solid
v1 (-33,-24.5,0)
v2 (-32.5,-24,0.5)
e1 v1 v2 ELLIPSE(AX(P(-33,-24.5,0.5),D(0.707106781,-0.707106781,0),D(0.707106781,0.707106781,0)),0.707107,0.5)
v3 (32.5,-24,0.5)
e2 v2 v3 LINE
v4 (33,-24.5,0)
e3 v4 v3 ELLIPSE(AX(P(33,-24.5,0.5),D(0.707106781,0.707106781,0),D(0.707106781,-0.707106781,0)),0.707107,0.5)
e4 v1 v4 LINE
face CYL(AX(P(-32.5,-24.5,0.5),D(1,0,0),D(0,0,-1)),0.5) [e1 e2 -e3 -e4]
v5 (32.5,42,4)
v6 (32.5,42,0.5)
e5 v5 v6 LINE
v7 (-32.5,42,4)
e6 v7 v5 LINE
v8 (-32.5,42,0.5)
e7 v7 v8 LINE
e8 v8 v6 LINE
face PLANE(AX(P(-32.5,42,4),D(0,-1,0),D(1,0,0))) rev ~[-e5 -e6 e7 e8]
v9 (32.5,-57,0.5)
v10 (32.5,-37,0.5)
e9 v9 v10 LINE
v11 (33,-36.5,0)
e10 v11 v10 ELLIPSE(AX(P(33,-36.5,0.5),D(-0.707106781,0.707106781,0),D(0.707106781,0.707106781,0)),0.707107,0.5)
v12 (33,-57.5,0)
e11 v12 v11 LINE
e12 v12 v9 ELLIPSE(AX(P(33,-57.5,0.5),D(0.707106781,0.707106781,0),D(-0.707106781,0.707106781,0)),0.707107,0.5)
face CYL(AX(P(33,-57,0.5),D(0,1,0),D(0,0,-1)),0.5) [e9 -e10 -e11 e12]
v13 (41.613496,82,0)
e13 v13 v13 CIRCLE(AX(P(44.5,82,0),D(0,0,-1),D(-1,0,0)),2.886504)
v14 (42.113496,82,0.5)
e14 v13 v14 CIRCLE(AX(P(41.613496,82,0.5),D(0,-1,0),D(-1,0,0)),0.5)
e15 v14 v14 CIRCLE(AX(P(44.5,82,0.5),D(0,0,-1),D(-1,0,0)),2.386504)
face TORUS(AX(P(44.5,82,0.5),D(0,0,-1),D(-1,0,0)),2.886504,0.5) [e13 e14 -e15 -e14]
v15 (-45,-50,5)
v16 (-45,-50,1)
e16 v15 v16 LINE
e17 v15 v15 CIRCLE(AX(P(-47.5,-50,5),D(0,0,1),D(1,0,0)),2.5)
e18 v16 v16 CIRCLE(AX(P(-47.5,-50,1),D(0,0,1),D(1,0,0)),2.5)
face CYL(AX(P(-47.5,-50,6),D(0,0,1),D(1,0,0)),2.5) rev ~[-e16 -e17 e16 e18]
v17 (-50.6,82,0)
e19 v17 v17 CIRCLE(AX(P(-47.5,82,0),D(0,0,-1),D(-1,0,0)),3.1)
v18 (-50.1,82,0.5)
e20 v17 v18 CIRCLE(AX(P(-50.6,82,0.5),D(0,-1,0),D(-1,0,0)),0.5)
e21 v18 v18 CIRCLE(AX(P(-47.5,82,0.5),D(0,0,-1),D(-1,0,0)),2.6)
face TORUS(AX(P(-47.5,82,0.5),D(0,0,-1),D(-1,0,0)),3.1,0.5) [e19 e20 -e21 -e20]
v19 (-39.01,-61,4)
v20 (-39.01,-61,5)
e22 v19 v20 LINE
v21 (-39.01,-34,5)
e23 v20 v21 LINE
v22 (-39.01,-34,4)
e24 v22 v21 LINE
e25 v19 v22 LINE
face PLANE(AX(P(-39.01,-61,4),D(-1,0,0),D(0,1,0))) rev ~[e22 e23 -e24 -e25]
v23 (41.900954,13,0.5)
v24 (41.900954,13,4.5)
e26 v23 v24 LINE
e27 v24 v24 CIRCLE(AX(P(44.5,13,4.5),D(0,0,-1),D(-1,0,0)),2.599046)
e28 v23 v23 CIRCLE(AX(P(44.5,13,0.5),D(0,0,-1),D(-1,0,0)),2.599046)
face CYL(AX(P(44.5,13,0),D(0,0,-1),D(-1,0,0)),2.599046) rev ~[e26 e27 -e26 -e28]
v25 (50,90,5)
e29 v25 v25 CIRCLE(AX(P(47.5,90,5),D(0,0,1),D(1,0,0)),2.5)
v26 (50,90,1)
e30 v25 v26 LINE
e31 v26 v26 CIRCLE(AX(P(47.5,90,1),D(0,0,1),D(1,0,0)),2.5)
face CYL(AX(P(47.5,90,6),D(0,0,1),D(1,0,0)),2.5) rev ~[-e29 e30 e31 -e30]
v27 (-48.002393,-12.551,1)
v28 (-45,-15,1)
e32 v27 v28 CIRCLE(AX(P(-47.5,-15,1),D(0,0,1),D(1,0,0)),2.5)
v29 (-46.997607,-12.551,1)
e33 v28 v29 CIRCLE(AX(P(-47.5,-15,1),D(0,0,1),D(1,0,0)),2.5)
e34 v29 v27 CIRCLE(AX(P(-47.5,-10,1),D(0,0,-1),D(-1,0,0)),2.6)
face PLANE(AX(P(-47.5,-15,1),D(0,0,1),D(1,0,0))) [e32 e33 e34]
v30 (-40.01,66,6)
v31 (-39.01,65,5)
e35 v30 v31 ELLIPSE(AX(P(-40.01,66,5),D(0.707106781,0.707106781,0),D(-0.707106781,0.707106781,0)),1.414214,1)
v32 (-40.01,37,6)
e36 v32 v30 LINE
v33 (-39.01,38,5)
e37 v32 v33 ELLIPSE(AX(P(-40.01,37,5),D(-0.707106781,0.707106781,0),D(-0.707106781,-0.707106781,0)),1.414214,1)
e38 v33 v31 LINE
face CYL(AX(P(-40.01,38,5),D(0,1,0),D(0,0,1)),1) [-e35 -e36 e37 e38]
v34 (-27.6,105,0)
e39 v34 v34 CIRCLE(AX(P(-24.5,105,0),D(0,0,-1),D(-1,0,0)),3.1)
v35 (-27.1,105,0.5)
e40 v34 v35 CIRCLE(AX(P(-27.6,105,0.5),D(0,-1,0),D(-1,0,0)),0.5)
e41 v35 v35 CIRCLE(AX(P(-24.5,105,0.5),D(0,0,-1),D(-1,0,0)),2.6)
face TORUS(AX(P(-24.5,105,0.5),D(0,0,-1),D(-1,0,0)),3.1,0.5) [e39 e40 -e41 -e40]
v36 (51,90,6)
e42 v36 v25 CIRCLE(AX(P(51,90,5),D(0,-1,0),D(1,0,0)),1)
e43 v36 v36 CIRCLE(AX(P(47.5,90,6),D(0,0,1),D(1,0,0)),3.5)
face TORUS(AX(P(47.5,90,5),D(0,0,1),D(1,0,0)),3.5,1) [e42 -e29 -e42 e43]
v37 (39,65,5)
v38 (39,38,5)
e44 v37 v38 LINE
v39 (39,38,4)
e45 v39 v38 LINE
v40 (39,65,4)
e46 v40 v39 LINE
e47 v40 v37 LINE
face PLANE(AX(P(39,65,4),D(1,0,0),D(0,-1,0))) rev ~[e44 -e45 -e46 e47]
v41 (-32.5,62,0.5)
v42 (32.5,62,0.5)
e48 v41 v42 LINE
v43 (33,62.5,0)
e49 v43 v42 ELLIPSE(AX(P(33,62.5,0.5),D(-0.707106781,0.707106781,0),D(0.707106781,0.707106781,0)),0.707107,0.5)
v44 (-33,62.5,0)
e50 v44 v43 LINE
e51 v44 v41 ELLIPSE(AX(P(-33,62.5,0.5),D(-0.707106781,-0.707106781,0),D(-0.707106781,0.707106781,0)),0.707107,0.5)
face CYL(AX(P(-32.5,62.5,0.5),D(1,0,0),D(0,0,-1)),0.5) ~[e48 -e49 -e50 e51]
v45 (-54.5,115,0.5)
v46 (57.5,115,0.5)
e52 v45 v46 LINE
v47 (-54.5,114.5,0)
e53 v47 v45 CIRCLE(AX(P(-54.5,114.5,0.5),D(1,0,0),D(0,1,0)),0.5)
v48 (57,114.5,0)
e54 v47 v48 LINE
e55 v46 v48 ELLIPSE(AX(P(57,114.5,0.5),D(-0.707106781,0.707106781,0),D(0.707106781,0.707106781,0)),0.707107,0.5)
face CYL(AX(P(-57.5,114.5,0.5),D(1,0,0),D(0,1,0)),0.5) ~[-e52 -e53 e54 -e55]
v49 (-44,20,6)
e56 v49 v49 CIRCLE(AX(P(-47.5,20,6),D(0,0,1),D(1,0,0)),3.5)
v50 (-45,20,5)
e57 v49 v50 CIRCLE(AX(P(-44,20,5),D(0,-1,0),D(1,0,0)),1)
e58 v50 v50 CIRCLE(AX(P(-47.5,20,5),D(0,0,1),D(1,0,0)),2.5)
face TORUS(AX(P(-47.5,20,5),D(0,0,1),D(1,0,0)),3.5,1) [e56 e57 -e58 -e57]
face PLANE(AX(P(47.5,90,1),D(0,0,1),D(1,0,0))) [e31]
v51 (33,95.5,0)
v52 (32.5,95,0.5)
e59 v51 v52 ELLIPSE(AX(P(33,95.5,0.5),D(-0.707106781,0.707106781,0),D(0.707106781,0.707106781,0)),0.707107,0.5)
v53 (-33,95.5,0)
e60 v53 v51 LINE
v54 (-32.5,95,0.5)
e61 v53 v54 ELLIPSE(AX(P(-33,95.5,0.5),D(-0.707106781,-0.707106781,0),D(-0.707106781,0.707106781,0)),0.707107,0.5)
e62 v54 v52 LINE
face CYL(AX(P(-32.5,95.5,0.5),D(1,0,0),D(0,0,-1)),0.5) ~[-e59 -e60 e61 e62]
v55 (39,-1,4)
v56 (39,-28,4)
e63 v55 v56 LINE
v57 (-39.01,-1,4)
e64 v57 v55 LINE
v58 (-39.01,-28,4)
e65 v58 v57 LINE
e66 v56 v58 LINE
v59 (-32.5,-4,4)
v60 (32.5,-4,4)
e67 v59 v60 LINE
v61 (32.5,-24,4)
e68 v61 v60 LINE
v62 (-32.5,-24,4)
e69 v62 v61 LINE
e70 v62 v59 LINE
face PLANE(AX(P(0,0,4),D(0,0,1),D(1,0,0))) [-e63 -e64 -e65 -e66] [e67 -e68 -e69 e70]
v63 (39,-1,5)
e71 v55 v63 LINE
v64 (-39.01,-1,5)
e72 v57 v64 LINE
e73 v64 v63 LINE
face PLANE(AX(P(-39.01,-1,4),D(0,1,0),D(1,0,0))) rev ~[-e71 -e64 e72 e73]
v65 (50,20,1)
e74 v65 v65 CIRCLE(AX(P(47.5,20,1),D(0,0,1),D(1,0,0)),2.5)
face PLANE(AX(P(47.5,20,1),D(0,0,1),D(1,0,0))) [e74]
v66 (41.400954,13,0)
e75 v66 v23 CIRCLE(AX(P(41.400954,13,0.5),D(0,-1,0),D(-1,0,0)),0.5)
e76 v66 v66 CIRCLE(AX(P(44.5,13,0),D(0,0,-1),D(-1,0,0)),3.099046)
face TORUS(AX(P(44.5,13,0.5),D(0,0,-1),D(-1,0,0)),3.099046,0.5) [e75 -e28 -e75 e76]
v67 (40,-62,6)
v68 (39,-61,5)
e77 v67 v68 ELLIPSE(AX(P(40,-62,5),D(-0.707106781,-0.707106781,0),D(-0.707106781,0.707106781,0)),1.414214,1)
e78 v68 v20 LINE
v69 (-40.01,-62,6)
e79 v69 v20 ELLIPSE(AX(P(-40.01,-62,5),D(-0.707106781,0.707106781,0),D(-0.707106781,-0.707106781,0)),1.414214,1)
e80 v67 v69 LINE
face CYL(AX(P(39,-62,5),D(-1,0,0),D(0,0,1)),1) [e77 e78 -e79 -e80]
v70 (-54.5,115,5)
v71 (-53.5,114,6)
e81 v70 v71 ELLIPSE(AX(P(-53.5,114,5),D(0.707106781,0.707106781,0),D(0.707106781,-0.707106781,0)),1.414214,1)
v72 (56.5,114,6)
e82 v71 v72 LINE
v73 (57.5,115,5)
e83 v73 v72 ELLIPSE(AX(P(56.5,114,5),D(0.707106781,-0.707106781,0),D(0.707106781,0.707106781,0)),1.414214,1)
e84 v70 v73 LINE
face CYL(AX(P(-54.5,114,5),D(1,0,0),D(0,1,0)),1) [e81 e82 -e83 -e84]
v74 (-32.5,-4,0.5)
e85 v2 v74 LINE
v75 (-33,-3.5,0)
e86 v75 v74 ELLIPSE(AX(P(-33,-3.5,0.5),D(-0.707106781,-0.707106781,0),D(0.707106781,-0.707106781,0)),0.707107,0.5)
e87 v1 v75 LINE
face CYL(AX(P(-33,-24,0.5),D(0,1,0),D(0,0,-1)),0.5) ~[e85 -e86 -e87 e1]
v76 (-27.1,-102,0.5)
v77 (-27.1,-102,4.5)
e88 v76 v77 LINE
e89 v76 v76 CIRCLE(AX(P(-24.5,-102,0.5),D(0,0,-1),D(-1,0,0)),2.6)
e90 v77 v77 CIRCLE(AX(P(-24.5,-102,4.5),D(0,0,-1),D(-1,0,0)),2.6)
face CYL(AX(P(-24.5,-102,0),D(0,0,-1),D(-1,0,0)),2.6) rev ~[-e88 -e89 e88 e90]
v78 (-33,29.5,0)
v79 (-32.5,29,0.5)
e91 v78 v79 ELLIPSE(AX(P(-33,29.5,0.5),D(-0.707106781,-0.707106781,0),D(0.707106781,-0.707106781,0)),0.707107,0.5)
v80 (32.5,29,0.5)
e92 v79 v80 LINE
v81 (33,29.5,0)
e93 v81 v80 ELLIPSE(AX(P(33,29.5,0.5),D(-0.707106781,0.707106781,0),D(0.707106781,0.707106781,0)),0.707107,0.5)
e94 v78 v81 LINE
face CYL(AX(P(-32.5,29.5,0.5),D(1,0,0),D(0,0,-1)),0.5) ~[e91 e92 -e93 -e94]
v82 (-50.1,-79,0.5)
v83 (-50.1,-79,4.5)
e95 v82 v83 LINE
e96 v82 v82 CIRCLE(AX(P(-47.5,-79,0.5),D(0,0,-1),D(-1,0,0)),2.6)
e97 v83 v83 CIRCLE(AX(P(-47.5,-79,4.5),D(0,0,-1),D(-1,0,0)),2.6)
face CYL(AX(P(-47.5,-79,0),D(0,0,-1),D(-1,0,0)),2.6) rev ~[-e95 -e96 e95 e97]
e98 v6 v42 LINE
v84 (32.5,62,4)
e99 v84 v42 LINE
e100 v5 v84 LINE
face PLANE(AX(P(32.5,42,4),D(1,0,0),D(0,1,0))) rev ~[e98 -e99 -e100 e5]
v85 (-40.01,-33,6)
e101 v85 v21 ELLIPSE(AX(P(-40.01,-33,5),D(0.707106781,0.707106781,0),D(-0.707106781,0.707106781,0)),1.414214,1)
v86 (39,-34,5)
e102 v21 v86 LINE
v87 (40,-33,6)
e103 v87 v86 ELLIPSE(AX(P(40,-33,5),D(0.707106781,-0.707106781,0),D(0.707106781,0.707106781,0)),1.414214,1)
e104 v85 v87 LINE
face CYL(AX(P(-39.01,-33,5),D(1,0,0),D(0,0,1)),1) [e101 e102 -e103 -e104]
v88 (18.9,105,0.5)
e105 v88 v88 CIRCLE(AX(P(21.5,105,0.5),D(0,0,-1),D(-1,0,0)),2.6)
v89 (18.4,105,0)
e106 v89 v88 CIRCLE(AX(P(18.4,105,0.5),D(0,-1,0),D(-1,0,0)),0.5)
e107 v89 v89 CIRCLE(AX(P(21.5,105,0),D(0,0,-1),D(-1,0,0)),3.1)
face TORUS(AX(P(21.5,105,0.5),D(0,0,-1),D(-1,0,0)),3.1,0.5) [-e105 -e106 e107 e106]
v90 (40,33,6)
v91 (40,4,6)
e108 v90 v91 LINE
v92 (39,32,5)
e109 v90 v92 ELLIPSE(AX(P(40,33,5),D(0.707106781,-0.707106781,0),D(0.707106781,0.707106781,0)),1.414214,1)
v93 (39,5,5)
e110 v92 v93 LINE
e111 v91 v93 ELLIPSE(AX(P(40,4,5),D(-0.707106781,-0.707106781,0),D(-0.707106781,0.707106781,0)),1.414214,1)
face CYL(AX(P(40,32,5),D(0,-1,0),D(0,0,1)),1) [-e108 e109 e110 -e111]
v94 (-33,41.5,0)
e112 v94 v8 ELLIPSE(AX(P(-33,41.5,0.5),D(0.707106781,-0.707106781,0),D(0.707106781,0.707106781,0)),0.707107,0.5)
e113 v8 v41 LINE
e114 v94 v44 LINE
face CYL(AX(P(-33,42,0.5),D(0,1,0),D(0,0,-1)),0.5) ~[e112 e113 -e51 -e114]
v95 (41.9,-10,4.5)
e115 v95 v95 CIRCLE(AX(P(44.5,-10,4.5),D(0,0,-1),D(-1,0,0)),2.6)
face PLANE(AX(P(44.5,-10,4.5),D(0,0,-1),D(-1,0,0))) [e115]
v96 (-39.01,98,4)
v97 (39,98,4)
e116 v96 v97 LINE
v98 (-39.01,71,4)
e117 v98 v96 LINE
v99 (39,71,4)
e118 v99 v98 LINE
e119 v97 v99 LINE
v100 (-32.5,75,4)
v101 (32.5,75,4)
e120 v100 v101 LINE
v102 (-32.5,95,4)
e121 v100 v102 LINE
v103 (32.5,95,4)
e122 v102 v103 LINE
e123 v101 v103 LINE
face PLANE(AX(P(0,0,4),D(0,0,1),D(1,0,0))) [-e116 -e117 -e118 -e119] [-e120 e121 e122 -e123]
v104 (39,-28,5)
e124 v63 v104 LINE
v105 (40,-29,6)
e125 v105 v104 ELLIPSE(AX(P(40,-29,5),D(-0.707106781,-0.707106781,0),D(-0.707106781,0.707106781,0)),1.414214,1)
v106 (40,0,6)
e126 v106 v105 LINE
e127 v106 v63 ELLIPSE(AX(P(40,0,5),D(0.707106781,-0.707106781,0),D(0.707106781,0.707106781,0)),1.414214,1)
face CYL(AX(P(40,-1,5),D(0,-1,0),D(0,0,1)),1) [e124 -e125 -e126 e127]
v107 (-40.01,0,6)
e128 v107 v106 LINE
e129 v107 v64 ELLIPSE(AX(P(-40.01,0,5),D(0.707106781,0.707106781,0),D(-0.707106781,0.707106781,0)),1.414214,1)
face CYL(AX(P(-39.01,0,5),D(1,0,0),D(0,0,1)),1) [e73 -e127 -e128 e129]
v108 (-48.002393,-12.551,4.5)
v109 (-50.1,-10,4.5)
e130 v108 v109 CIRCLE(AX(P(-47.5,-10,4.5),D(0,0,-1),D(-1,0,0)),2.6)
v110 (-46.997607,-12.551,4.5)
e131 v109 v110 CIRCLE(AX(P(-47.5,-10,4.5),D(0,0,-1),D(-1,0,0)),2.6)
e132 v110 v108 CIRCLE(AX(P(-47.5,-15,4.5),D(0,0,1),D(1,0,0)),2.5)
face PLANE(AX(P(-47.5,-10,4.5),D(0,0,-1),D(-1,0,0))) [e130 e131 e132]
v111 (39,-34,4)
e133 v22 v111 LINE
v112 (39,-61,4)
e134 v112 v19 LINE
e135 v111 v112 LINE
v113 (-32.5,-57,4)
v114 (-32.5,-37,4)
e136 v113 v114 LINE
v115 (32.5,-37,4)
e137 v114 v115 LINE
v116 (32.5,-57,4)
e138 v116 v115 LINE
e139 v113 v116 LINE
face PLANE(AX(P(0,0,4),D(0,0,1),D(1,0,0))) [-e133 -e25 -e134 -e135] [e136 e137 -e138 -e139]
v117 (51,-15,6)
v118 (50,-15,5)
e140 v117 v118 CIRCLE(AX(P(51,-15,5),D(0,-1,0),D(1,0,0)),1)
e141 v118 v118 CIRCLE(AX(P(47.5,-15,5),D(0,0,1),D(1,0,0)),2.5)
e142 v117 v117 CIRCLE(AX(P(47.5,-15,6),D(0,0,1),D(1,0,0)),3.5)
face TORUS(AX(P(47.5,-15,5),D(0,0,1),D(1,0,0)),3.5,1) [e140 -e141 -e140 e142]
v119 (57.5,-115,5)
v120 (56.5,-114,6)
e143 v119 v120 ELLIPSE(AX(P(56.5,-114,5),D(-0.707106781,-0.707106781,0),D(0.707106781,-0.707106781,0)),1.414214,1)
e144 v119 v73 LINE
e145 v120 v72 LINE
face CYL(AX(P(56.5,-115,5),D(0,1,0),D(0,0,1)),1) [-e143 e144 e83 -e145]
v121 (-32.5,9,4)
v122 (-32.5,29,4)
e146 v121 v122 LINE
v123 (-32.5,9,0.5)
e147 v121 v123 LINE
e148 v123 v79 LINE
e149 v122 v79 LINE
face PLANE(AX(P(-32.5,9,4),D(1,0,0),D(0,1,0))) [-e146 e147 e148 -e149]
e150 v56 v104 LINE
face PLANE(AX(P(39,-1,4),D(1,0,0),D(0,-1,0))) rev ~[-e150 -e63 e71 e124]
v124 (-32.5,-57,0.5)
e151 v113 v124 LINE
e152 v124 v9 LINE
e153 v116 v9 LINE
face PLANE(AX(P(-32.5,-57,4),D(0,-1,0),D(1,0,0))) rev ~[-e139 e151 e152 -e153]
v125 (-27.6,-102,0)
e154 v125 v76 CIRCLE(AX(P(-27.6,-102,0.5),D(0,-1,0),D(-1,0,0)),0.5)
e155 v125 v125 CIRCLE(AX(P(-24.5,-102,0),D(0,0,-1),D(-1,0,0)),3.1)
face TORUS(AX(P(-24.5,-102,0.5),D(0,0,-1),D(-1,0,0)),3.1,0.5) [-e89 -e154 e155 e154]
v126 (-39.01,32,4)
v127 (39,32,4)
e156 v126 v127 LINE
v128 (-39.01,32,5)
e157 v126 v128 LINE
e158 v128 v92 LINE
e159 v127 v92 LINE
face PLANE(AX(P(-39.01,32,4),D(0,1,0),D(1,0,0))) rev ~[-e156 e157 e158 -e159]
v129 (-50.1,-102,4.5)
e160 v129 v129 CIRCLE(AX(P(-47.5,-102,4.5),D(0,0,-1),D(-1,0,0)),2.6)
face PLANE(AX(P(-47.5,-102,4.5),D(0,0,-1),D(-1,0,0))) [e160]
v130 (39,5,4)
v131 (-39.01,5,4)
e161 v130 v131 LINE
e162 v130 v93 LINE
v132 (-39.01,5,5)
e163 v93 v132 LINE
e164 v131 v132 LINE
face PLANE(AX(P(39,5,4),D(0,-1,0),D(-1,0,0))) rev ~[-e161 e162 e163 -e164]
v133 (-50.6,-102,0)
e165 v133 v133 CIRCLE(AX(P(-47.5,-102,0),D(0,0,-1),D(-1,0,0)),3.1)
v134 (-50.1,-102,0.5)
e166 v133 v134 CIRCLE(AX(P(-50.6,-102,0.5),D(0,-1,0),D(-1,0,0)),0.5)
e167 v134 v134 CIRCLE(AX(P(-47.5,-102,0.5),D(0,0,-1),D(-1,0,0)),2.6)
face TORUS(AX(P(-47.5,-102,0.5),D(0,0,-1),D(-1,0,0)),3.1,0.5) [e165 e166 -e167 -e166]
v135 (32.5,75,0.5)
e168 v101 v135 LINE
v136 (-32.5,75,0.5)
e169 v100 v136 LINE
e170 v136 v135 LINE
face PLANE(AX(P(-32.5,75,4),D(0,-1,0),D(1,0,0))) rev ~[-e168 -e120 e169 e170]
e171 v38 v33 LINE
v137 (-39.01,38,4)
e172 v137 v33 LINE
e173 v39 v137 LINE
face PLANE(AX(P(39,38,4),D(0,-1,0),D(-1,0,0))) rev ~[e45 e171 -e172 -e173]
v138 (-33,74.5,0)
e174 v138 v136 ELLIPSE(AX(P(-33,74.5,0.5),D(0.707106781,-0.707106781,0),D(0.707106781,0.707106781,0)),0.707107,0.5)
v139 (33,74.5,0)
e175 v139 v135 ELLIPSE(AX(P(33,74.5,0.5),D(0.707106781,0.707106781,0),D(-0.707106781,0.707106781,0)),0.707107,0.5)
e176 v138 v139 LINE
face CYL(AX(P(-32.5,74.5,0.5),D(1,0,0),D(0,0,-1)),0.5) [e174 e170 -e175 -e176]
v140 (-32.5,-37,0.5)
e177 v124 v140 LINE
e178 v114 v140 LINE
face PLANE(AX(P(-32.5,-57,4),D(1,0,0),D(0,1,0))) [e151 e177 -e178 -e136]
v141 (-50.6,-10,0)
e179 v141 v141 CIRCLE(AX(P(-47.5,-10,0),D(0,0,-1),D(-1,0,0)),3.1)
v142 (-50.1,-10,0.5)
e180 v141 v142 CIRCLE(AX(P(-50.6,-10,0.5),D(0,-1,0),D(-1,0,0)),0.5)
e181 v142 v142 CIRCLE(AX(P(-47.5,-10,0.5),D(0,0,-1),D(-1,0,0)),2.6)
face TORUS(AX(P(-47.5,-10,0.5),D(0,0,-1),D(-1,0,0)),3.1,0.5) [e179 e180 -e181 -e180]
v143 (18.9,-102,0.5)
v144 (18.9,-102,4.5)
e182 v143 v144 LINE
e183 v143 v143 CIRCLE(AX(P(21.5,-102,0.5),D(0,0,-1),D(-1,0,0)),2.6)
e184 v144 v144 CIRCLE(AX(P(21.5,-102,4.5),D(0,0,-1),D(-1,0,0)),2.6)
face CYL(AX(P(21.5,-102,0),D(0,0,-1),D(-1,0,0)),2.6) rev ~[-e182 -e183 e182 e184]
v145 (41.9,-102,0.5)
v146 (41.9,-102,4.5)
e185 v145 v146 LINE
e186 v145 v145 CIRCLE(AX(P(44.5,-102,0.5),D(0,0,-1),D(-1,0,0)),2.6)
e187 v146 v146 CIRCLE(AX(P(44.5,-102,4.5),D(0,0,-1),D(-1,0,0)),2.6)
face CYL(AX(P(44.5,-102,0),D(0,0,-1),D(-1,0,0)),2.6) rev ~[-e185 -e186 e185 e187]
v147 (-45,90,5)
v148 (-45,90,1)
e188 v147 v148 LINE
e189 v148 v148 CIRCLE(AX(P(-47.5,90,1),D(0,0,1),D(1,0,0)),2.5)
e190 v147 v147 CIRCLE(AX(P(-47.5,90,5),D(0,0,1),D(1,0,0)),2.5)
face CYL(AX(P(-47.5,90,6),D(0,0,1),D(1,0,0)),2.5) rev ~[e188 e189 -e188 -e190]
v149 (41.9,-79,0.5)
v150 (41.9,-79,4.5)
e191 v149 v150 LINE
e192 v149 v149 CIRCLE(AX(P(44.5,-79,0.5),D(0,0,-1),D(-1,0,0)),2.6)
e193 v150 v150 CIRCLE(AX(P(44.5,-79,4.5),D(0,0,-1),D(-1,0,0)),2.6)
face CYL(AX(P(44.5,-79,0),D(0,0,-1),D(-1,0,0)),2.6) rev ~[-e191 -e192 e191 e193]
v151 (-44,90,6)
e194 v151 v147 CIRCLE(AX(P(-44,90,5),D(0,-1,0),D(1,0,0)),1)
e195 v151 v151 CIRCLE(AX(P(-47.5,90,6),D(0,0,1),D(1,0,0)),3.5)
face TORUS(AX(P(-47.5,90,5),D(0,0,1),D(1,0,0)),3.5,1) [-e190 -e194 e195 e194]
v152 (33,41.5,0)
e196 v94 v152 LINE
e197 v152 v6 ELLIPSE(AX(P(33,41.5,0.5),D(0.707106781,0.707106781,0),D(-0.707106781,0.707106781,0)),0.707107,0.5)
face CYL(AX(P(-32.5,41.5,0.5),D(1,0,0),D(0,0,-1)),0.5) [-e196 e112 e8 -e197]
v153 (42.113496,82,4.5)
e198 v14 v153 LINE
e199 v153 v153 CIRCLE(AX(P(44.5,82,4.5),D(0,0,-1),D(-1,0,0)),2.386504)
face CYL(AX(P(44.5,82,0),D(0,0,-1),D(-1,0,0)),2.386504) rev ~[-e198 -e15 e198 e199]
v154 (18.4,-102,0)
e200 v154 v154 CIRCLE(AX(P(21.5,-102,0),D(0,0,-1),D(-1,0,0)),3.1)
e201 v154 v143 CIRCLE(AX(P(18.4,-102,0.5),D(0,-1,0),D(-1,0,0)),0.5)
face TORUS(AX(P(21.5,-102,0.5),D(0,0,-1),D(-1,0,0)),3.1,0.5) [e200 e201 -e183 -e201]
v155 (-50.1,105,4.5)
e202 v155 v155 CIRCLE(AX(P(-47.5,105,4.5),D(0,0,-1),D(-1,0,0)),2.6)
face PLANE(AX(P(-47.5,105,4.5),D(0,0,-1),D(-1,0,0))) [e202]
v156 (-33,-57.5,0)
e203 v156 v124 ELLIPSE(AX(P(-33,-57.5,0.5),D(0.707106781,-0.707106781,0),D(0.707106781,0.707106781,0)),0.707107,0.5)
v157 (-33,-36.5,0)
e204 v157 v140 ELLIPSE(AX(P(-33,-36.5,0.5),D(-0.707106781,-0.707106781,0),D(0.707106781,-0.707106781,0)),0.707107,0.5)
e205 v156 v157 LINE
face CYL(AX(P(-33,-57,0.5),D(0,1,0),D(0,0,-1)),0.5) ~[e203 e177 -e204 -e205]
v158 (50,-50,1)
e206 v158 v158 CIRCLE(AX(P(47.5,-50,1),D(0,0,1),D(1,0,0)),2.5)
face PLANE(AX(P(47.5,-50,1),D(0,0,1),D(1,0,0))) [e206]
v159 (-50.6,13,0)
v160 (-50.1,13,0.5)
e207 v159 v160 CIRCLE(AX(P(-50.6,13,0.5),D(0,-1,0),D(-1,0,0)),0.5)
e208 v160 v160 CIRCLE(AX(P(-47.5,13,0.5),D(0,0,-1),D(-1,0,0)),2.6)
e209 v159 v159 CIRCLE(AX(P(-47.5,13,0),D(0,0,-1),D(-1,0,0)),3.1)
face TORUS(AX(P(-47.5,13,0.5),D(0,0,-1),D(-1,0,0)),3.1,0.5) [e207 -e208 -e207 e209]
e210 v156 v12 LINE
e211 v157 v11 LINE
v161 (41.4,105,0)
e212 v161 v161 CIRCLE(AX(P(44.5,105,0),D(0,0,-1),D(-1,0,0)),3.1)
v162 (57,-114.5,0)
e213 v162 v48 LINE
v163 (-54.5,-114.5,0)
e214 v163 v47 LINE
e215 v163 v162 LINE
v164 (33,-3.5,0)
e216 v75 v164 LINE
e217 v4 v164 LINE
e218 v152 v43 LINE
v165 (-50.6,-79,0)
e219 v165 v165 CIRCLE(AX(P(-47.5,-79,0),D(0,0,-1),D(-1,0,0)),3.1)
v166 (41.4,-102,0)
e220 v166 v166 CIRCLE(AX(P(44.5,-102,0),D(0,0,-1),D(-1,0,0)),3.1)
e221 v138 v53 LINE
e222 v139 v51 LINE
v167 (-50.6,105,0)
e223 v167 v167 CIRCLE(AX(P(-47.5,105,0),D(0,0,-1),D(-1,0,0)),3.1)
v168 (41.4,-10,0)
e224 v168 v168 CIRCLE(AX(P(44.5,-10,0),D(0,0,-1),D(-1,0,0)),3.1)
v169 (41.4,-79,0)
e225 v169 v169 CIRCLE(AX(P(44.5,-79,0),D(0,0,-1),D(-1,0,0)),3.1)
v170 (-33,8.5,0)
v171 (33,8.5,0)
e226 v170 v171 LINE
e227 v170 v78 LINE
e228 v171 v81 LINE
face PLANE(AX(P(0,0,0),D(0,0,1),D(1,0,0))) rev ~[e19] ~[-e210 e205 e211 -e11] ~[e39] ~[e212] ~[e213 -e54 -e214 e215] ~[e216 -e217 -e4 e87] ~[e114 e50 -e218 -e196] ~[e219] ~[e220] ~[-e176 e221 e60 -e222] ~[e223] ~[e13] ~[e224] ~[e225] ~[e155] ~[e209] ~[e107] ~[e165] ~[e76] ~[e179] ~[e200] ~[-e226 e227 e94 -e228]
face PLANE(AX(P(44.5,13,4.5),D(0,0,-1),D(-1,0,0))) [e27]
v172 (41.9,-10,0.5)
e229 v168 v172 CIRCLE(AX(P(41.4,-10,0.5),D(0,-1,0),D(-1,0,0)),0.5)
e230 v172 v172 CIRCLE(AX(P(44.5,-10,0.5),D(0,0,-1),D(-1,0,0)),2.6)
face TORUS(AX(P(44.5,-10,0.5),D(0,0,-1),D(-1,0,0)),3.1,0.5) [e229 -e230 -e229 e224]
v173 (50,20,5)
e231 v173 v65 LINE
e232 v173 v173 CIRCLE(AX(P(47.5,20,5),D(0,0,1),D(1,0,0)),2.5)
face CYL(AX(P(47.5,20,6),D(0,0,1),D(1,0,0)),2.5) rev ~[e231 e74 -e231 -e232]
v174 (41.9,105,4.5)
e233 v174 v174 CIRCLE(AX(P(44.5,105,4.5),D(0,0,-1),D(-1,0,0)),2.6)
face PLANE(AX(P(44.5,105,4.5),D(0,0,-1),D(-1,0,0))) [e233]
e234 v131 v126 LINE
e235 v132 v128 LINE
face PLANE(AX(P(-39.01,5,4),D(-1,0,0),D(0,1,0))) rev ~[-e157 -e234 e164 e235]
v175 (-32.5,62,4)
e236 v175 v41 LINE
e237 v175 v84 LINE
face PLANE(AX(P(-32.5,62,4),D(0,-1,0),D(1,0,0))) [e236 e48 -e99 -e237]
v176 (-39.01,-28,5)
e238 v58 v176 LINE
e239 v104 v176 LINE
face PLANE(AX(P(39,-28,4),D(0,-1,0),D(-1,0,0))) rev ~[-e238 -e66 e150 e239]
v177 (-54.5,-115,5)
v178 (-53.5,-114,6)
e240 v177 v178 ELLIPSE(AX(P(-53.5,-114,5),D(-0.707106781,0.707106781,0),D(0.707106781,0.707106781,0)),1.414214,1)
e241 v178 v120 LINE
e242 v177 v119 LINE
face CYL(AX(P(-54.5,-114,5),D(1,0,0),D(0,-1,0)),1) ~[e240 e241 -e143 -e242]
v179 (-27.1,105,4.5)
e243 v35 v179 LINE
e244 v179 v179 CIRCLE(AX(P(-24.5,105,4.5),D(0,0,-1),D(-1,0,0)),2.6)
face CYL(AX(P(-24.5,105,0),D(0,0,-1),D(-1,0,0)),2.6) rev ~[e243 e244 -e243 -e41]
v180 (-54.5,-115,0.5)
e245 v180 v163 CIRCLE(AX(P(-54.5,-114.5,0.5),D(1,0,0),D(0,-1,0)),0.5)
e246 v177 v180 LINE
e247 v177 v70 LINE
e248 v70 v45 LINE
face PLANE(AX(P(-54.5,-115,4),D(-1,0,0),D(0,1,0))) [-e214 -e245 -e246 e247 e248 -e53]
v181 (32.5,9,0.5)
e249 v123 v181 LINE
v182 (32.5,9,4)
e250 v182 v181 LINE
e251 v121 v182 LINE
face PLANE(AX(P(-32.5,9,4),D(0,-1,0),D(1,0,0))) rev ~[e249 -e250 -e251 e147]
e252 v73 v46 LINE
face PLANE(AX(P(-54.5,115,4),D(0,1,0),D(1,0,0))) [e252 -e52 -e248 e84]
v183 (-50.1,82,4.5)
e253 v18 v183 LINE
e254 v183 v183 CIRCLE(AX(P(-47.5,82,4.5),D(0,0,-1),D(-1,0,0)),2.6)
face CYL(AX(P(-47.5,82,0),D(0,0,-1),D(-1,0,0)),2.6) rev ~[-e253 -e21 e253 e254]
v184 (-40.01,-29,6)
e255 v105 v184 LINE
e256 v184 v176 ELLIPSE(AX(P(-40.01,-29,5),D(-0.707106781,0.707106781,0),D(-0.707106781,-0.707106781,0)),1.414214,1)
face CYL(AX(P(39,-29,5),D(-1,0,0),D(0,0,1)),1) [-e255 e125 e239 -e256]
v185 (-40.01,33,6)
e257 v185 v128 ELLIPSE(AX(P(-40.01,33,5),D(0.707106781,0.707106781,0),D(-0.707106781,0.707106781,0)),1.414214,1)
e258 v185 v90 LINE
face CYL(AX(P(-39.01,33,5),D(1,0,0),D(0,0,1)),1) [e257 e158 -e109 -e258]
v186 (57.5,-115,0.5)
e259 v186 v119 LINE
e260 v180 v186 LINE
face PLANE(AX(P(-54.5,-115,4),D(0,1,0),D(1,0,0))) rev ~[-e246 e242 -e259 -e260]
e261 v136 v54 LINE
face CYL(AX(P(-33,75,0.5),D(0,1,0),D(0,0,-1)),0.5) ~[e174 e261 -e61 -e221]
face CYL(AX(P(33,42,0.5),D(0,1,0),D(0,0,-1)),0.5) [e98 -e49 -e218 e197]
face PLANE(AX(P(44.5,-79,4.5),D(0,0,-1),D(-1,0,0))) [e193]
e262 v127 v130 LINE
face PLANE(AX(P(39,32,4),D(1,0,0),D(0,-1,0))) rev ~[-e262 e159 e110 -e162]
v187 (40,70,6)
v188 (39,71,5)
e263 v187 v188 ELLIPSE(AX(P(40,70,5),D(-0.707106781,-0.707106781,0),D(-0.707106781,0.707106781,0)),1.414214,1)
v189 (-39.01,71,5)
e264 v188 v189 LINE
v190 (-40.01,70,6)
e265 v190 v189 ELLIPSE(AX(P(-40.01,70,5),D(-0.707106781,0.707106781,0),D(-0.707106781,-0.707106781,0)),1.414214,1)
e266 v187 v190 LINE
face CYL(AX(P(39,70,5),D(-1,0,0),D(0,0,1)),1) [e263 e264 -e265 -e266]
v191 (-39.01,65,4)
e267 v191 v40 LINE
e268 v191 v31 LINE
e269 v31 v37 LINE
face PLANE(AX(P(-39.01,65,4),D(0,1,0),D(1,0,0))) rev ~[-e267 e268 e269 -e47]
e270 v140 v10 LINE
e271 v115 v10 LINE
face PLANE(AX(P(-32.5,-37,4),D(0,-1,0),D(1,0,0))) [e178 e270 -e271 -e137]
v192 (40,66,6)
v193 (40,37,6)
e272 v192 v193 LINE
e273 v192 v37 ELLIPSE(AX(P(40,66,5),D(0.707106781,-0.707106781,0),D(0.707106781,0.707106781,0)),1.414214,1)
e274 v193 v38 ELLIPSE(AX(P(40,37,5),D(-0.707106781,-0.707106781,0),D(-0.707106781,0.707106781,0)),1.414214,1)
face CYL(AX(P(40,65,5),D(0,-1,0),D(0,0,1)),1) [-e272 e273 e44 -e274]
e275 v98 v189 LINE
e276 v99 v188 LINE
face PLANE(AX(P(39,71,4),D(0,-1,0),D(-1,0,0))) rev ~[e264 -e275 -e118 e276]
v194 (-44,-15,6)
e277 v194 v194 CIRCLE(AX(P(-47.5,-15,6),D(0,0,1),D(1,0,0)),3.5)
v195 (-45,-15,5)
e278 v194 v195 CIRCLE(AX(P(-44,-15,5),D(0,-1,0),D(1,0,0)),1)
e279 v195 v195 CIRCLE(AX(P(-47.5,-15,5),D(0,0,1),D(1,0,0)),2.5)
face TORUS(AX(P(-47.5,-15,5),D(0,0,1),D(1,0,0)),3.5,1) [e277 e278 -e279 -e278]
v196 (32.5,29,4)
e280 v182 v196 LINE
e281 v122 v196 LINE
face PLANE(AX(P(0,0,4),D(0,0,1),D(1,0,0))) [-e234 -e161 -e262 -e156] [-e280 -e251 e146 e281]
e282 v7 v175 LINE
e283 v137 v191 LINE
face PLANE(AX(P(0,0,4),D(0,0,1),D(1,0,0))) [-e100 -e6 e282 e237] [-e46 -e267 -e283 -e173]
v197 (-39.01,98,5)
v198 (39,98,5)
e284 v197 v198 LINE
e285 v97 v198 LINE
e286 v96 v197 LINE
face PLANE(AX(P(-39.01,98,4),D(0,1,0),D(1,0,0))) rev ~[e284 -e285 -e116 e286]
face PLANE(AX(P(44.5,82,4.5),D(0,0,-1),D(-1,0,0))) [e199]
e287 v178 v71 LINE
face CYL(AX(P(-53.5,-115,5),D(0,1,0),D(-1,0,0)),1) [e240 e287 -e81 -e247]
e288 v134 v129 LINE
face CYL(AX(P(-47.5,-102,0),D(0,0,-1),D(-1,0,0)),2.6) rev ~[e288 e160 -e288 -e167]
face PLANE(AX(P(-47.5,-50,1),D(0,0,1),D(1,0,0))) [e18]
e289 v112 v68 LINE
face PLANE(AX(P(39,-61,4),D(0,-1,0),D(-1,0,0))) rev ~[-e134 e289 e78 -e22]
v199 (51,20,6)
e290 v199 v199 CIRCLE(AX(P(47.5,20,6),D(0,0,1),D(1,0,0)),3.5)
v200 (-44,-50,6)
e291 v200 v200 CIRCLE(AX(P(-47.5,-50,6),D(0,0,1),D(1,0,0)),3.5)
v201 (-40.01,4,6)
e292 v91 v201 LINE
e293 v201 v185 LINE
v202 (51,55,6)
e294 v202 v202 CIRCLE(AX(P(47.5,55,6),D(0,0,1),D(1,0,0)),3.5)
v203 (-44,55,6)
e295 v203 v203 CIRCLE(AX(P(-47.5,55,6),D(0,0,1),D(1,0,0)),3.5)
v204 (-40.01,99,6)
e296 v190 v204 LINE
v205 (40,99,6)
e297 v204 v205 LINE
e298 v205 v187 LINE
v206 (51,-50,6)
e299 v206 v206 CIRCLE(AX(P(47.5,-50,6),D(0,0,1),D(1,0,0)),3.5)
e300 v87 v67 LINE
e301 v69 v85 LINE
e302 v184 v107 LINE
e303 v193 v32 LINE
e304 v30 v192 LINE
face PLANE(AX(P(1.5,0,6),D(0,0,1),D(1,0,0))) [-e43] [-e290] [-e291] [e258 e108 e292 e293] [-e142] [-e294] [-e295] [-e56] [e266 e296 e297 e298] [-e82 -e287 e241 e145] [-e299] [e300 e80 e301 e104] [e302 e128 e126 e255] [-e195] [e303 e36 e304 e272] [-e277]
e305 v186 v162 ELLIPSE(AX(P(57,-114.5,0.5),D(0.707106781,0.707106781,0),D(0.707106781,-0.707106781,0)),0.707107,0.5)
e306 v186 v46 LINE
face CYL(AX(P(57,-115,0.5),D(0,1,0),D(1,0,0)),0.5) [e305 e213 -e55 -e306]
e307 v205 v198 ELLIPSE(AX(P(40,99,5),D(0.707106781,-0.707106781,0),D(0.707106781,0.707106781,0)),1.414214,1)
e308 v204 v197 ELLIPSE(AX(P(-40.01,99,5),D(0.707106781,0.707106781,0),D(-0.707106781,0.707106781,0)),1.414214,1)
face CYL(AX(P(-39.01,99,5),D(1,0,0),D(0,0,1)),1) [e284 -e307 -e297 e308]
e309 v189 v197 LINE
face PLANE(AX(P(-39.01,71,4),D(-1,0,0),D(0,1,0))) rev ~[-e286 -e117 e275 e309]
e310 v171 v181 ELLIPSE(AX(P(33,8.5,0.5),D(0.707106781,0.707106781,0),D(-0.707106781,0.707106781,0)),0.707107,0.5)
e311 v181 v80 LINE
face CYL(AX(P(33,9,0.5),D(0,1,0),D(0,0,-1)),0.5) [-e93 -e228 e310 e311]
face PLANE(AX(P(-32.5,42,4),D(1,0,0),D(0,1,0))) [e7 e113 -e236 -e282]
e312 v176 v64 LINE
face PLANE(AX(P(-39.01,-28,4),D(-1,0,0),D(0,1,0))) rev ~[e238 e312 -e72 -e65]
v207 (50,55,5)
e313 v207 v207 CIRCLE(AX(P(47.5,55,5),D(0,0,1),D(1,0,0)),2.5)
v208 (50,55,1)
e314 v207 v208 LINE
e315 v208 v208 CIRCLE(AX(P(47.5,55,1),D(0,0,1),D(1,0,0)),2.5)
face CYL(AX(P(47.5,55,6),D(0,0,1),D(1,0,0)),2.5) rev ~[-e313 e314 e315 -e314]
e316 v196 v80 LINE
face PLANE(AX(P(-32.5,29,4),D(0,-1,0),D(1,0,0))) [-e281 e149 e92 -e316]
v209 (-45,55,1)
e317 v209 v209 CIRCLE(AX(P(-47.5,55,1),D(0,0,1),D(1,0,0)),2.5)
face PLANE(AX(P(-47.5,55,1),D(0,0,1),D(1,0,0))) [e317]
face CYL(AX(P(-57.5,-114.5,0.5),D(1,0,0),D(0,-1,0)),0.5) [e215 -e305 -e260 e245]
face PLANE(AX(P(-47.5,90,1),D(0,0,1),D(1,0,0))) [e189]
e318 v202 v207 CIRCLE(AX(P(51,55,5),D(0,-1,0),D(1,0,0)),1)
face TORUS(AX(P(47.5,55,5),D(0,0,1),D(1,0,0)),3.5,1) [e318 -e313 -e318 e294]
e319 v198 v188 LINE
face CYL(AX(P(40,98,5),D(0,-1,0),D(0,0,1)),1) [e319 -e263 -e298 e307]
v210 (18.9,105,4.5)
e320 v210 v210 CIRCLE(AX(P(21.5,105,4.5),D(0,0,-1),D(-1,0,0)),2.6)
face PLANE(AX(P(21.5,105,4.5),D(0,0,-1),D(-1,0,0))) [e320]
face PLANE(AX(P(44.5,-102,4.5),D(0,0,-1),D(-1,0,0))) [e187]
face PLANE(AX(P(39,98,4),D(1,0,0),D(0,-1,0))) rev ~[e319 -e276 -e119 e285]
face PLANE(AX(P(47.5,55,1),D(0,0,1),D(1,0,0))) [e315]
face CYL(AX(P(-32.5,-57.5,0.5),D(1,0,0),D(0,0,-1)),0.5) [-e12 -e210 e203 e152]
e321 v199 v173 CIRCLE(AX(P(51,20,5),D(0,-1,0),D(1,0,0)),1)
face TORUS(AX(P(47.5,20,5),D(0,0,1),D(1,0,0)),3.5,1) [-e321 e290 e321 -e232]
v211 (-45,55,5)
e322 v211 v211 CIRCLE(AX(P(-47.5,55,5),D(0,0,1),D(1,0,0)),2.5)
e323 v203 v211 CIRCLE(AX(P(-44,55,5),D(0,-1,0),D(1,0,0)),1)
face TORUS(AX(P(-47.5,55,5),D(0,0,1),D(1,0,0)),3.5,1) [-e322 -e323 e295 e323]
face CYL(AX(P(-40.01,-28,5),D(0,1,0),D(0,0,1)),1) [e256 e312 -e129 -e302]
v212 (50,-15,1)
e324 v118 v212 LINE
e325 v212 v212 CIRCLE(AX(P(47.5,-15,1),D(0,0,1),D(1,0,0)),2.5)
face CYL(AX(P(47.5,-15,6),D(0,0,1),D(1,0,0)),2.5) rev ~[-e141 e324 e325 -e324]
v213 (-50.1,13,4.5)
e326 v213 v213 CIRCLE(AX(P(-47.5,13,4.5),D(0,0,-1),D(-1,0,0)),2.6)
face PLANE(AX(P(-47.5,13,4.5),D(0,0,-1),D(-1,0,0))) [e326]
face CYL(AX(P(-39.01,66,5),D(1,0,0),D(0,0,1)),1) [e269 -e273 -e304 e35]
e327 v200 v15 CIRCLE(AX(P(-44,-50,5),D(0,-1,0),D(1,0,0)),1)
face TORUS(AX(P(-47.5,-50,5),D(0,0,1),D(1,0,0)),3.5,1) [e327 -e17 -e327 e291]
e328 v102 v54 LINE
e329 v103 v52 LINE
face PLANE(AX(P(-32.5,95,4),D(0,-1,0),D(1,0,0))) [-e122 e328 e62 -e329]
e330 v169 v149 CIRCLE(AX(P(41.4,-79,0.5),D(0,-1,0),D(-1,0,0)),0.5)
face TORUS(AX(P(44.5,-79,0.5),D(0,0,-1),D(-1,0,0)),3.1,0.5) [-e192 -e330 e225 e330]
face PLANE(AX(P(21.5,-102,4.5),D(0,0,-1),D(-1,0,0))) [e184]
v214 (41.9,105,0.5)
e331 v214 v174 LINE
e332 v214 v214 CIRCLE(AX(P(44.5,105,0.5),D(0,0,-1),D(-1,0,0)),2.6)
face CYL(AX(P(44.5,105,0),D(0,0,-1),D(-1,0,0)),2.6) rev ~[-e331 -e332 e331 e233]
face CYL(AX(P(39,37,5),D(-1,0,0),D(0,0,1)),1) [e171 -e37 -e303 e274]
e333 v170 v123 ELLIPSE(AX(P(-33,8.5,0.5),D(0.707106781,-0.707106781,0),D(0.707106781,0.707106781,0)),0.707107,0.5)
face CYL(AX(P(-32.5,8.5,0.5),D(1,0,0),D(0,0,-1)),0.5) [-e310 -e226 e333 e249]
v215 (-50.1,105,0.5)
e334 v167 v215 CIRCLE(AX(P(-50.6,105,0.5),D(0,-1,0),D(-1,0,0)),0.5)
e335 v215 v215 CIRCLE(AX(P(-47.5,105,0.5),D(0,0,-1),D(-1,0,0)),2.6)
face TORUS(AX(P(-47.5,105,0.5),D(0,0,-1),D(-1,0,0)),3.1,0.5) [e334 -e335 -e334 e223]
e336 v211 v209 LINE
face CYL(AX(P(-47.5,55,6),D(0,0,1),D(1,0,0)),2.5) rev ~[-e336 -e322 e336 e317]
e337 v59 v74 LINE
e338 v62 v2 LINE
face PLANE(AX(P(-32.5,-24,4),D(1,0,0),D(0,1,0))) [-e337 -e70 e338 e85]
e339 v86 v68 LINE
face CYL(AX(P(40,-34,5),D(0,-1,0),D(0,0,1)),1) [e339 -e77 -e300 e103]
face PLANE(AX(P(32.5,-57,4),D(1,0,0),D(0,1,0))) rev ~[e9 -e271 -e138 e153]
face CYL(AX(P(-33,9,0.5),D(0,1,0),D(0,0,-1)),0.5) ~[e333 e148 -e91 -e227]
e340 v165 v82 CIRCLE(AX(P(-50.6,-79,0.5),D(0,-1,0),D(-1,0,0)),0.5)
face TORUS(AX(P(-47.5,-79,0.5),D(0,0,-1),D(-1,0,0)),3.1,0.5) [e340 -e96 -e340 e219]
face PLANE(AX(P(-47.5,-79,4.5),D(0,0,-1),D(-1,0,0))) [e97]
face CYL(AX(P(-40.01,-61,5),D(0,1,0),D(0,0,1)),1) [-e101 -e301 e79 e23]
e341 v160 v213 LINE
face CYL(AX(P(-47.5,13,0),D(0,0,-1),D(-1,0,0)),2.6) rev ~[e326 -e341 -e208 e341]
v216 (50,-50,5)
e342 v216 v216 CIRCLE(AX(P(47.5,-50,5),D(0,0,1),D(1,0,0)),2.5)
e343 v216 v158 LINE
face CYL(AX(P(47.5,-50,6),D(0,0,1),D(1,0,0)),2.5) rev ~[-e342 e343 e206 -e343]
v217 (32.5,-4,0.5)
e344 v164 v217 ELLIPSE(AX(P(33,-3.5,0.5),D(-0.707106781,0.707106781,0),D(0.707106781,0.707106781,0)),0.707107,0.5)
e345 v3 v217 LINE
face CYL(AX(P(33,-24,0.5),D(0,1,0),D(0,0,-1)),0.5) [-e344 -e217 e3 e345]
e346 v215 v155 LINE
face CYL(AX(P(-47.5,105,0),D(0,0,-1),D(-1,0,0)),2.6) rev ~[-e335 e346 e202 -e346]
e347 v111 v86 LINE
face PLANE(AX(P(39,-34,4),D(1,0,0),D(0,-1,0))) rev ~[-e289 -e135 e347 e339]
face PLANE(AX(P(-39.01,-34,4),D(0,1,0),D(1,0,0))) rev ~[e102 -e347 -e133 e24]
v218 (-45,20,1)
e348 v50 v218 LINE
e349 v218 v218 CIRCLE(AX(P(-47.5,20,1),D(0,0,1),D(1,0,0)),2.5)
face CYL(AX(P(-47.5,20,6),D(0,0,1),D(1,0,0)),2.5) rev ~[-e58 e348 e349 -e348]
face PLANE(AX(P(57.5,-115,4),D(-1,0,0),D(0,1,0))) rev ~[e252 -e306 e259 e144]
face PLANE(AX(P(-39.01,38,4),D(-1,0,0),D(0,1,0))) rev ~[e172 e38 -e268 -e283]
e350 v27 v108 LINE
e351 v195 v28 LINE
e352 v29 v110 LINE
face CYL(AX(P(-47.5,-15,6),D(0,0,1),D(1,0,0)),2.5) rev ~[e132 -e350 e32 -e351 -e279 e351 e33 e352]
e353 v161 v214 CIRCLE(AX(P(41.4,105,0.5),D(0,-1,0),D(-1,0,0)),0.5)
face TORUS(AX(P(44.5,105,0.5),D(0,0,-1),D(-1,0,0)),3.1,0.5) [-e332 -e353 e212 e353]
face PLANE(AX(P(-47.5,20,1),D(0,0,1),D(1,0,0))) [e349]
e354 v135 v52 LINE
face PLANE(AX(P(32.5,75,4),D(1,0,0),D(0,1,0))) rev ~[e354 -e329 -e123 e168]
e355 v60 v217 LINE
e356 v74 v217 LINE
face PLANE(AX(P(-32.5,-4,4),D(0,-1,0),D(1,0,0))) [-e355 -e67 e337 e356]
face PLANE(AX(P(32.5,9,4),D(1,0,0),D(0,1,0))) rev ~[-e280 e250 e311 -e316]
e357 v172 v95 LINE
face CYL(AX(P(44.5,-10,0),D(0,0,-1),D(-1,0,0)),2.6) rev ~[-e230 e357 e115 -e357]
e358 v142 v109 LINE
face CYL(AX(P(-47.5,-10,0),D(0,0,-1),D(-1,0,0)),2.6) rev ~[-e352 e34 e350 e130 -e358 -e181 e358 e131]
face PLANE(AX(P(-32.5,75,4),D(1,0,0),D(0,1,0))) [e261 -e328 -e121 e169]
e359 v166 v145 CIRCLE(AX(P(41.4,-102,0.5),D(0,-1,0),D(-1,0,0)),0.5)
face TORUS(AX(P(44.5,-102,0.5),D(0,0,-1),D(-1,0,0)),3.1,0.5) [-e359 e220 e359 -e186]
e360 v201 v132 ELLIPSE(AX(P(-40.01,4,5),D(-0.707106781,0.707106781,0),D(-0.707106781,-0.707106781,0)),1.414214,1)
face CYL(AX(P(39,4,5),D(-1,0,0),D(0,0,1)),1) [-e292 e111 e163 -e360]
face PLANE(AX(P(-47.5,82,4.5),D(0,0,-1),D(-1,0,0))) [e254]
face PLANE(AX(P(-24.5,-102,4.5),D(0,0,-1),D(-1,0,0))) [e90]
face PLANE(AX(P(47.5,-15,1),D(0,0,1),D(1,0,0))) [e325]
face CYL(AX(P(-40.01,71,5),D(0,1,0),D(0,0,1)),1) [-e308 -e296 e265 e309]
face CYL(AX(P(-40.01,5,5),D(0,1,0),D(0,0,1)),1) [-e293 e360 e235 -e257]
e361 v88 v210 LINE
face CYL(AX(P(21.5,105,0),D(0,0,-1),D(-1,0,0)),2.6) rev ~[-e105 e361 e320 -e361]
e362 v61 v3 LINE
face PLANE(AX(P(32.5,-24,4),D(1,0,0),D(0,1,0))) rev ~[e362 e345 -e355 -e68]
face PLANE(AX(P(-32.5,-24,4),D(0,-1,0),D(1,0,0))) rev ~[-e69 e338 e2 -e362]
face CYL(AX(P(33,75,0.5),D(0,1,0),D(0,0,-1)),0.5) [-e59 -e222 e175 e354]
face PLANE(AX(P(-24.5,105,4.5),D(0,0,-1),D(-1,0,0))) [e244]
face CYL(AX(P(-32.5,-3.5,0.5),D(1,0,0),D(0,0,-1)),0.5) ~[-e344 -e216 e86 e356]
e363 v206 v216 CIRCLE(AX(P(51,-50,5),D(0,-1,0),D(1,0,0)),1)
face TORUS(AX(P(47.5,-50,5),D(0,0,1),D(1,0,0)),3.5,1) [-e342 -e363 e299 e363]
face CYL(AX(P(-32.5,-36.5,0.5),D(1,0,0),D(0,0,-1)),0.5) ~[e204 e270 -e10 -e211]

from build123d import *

# Parameters (mm, degrees)
CROQUIS1_W                   = 115
CROQUIS1_H                   = 230
SALIENTE_EXTRUIR1_DEPTH      = 2
CROQUIS2_W                   = 79
CROQUIS2_H                   = 185
CORTAR_EXTRUIR1_DEPTH        = 10
SALIENTE_EXTRUIR2_DEPTH      = 2
SALIENTE_EXTRUIR2_DEPTH_BACK = 2
CROQUIS3_W                   = 115
CROQUIS3_H                   = 230
CROQUIS4_W                   = 65
CROQUIS4_H                   = 20
CORTAR_EXTRUIR2_DEPTH        = 10
MATRIZL1_COUNT               = 5
MATRIZL1_PITCH               = 33
CROQUIS5_W                   = 112
CROQUIS5_H                   = 230
SALIENTE_EXTRUIR3_DEPTH      = 2
CROQUIS6_R                   = 2.5
CORTAR_EXTRUIR3_DEPTH        = 5
MATRIZL2_COUNT               = 5
MATRIZL2_PITCH               = 35
REDONDEO1_R                  = 1
CROQUIS7_R                   = 2.6
CROQUIS7_R_2                 = 2.386504413
CROQUIS7_R_3                 = 2.599045918
CORTAR_EXTRUIR4_DEPTH        = 4.5
REDONDEO2_R                  = 0.5
CROQUIS8_OUTSIDE_W           = 168.444
CROQUIS8_OUTSIDE_H           = 283.444
CROQUIS8_OUTSIDE_W_2         = 112
CROQUIS8_OUTSIDE_H_2         = 230
CORTAR_EXTRUIR6_DEPTH        = 10


with BuildPart() as part:
    # Croquis1 → Saliente-Extruir1 (new body)
    with BuildSketch(Plane.XY):
        Rectangle(CROQUIS1_W, CROQUIS1_H)
    extrude(amount=SALIENTE_EXTRUIR1_DEPTH)

    # Croquis2 → Cortar-Extruir1 (cut)
    with BuildSketch(Plane.XY.offset(2)):
        with Locations((0, 2.5)):
            Rectangle(CROQUIS2_W, CROQUIS2_H)
    extrude(amount=-CORTAR_EXTRUIR1_DEPTH, mode=Mode.SUBTRACT)

    # Croquis3 → Saliente-Extruir2 (add, two sides: drawn at the far end of the back side and taken through both)
    with BuildSketch(Plane.XY.offset(2).offset(-SALIENTE_EXTRUIR2_DEPTH_BACK)):
        Rectangle(CROQUIS3_W, CROQUIS3_H)
    extrude(amount=SALIENTE_EXTRUIR2_DEPTH + SALIENTE_EXTRUIR2_DEPTH_BACK)

    # Croquis4 → Cortar-Extruir2 (cut)
    with BuildSketch(Plane.XY.offset(4)):
        with Locations((0, 85)):
            Rectangle(CROQUIS4_W, CROQUIS4_H)
    cortar_extruir2 = extrude(amount=-CORTAR_EXTRUIR2_DEPTH, mode=Mode.SUBTRACT)

    # MatrizL1: Cortar-Extruir2 ×5
    with Locations(*[(0, -i * MATRIZL1_PITCH, 0) for i in range(1, MATRIZL1_COUNT)]):
        add(cortar_extruir2, mode=Mode.SUBTRACT)

    # Croquis5 → Saliente-Extruir3 (add)
    with BuildSketch(Plane.XY.offset(4)):
        with Locations((1.5, 0)):
            Rectangle(CROQUIS5_W, CROQUIS5_H)
        Polygon((-39, -34), (38.99, -34), (39, -34), (39, -61), (38.99, -61), (-39, -61), (-39.01, -61), (-39.01, -34), align=None, mode=Mode.SUBTRACT)
        Polygon((-39, -1), (38.99, -1), (39, -1), (39, -28), (38.99, -28), (-39, -28), (-39.01, -28), (-39.01, -1), align=None, mode=Mode.SUBTRACT)
        Polygon((-39, 32), (38.99, 32), (39, 32), (39, 5), (38.99, 5), (-39, 5), (-39.01, 5), (-39.01, 32), align=None, mode=Mode.SUBTRACT)
        Polygon((-39, 65), (38.99, 65), (39, 65), (39, 38), (38.99, 38), (-39, 38), (-39.01, 38), (-39.01, 65), align=None, mode=Mode.SUBTRACT)
        Polygon((-39, 98), (38.99, 98), (39, 98), (39, 71), (38.99, 71), (-39, 71), (-39.01, 71), (-39.01, 98), align=None, mode=Mode.SUBTRACT)
    extrude(amount=SALIENTE_EXTRUIR3_DEPTH)

    # Croquis6 → Cortar-Extruir3 (cut)
    with BuildSketch(Plane.XY.offset(6)):
        with Locations((-47.5, 90)):
            Circle(CROQUIS6_R)
        with Locations((47.5, 90)):
            Circle(CROQUIS6_R)
    cortar_extruir3 = extrude(amount=-CORTAR_EXTRUIR3_DEPTH, mode=Mode.SUBTRACT)

    # MatrizL2: Cortar-Extruir3 ×5
    with Locations(*[(0, -i * MATRIZL2_PITCH, 0) for i in range(1, MATRIZL2_COUNT)]):
        add(cortar_extruir3, mode=Mode.SUBTRACT)

    # Redondeo1
    redondeo1_edges = [part.edges().sort_by_distance(p)[0] for p in [
        (-0.005, 71, 6),
        (-39.01, 84.5, 6),
        (-0.005, 38, 6),
        (-39.01, 51.5, 6),
        (-0.005, 5, 6),
        (-39.01, 18.5, 6),
        (-0.005, -28, 6),
        (-39.01, -14.5, 6),
        (-0.005, -61, 6),
        (-39.01, -47.5, 6),
        (-0.005, -34, 6),
        (39, -47.5, 6),
        (-0.005, -1, 6),
        (39, -14.5, 6),
        (-0.005, 32, 6),
        (39, 18.5, 6),
        (-0.005, 65, 6),
        (39, 51.5, 6),
        (-0.005, 98, 6),
        (39, 84.5, 6),
        (1.5, 115, 6),
        (-54.5, 0, 6),
        (1.5, -115, 6),
        (57.5, 0, 6),
        (-50, 90, 6),
        (45, 90, 6),
        (-50, 55, 6),
        (-50, 20, 6),
        (-50, -15, 6),
        (-50, -50, 6),
        (45, 55, 6),
        (45, 20, 6),
        (45, -15, 6),
        (45, -50, 6),
    ]]
    fillet(redondeo1_edges, radius=REDONDEO1_R)

    # Croquis7 → Cortar-Extruir4 (cut)
    with BuildSketch(Plane(origin=(0, 0, 0), x_dir=(-1, 0, 0), z_dir=(0, 0, -1))):
        with Locations((-44.5, 105)):
            Circle(CROQUIS7_R)
        with Locations((-21.5, 105)):
            Circle(CROQUIS7_R)
        with Locations((24.5, 105)):
            Circle(CROQUIS7_R)
        with Locations((47.5, 105)):
            Circle(CROQUIS7_R)
        with Locations((47.5, 82)):
            Circle(CROQUIS7_R)
        with Locations((-44.5, 82)):
            Circle(CROQUIS7_R_2)
        with Locations((47.5, 13)):
            Circle(CROQUIS7_R)
        with Locations((-44.5, 13)):
            Circle(CROQUIS7_R_3)
        with Locations((-44.5, -10)):
            Circle(CROQUIS7_R)
        with Locations((47.5, -10)):
            Circle(CROQUIS7_R)
        with Locations((47.5, -79)):
            Circle(CROQUIS7_R)
        with Locations((47.5, -102)):
            Circle(CROQUIS7_R)
        with Locations((24.5, -102)):
            Circle(CROQUIS7_R)
        with Locations((-21.5, -102)):
            Circle(CROQUIS7_R)
        with Locations((-44.5, -102)):
            Circle(CROQUIS7_R)
        with Locations((-44.5, -79)):
            Circle(CROQUIS7_R)
    extrude(amount=-CORTAR_EXTRUIR4_DEPTH, mode=Mode.SUBTRACT)

    # Redondeo2
    redondeo2_edges = [part.edges().sort_by_distance(p)[0] for p in [
        (0, -24, 0),
        (32.5, -47, 0),
        (0, -37, 0),
        (-32.5, -47, 0),
        (0, -57, 0),
        (46.886504413, 82, 0),
        (-44.9, 13, 0),
        (47.099045918, 13, 0),
        (47.1, -10, 0),
        (-44.9, 82, 0),
        (-44.9, 105, 0),
        (-21.9, 105, 0),
        (24.1, 105, 0),
        (-44.9, -10, 0),
        (-44.9, -79, 0),
        (-44.9, -102, 0),
        (-21.9, -102, 0),
        (24.1, -102, 0),
        (47.1, -102, 0),
        (47.1, -79, 0),
        (47.1, 105, 0),
        (0, -115, 0),
        (-57.5, 0, 0),
        (32.5, 85, 0),
        (0, 75, 0),
        (-32.5, 85, 0),
        (0, 95, 0),
        (0, 115, 0),
        (57.5, 0, 0),
        (32.5, 52, 0),
        (0, 42, 0),
        (-32.5, 52, 0),
        (0, 62, 0),
        (32.5, 19, 0),
        (0, 29, 0),
        (-32.5, 19, 0),
        (0, 9, 0),
        (32.5, -14, 0),
        (0, -4, 0),
        (-32.5, -14, 0),
    ]]
    fillet(redondeo2_edges, radius=REDONDEO2_R)

    # Croquis8 outside → Cortar-Extruir6 (cut)
    with BuildSketch(Plane.XY.offset(6)):
        Rectangle(CROQUIS8_OUTSIDE_W, CROQUIS8_OUTSIDE_H)
        with Locations((1.5, 0)):
            Rectangle(CROQUIS8_OUTSIDE_W_2, CROQUIS8_OUTSIDE_H_2, mode=Mode.SUBTRACT)
    extrude(amount=-CORTAR_EXTRUIR6_DEPTH, mode=Mode.SUBTRACT)


solid = part.part
